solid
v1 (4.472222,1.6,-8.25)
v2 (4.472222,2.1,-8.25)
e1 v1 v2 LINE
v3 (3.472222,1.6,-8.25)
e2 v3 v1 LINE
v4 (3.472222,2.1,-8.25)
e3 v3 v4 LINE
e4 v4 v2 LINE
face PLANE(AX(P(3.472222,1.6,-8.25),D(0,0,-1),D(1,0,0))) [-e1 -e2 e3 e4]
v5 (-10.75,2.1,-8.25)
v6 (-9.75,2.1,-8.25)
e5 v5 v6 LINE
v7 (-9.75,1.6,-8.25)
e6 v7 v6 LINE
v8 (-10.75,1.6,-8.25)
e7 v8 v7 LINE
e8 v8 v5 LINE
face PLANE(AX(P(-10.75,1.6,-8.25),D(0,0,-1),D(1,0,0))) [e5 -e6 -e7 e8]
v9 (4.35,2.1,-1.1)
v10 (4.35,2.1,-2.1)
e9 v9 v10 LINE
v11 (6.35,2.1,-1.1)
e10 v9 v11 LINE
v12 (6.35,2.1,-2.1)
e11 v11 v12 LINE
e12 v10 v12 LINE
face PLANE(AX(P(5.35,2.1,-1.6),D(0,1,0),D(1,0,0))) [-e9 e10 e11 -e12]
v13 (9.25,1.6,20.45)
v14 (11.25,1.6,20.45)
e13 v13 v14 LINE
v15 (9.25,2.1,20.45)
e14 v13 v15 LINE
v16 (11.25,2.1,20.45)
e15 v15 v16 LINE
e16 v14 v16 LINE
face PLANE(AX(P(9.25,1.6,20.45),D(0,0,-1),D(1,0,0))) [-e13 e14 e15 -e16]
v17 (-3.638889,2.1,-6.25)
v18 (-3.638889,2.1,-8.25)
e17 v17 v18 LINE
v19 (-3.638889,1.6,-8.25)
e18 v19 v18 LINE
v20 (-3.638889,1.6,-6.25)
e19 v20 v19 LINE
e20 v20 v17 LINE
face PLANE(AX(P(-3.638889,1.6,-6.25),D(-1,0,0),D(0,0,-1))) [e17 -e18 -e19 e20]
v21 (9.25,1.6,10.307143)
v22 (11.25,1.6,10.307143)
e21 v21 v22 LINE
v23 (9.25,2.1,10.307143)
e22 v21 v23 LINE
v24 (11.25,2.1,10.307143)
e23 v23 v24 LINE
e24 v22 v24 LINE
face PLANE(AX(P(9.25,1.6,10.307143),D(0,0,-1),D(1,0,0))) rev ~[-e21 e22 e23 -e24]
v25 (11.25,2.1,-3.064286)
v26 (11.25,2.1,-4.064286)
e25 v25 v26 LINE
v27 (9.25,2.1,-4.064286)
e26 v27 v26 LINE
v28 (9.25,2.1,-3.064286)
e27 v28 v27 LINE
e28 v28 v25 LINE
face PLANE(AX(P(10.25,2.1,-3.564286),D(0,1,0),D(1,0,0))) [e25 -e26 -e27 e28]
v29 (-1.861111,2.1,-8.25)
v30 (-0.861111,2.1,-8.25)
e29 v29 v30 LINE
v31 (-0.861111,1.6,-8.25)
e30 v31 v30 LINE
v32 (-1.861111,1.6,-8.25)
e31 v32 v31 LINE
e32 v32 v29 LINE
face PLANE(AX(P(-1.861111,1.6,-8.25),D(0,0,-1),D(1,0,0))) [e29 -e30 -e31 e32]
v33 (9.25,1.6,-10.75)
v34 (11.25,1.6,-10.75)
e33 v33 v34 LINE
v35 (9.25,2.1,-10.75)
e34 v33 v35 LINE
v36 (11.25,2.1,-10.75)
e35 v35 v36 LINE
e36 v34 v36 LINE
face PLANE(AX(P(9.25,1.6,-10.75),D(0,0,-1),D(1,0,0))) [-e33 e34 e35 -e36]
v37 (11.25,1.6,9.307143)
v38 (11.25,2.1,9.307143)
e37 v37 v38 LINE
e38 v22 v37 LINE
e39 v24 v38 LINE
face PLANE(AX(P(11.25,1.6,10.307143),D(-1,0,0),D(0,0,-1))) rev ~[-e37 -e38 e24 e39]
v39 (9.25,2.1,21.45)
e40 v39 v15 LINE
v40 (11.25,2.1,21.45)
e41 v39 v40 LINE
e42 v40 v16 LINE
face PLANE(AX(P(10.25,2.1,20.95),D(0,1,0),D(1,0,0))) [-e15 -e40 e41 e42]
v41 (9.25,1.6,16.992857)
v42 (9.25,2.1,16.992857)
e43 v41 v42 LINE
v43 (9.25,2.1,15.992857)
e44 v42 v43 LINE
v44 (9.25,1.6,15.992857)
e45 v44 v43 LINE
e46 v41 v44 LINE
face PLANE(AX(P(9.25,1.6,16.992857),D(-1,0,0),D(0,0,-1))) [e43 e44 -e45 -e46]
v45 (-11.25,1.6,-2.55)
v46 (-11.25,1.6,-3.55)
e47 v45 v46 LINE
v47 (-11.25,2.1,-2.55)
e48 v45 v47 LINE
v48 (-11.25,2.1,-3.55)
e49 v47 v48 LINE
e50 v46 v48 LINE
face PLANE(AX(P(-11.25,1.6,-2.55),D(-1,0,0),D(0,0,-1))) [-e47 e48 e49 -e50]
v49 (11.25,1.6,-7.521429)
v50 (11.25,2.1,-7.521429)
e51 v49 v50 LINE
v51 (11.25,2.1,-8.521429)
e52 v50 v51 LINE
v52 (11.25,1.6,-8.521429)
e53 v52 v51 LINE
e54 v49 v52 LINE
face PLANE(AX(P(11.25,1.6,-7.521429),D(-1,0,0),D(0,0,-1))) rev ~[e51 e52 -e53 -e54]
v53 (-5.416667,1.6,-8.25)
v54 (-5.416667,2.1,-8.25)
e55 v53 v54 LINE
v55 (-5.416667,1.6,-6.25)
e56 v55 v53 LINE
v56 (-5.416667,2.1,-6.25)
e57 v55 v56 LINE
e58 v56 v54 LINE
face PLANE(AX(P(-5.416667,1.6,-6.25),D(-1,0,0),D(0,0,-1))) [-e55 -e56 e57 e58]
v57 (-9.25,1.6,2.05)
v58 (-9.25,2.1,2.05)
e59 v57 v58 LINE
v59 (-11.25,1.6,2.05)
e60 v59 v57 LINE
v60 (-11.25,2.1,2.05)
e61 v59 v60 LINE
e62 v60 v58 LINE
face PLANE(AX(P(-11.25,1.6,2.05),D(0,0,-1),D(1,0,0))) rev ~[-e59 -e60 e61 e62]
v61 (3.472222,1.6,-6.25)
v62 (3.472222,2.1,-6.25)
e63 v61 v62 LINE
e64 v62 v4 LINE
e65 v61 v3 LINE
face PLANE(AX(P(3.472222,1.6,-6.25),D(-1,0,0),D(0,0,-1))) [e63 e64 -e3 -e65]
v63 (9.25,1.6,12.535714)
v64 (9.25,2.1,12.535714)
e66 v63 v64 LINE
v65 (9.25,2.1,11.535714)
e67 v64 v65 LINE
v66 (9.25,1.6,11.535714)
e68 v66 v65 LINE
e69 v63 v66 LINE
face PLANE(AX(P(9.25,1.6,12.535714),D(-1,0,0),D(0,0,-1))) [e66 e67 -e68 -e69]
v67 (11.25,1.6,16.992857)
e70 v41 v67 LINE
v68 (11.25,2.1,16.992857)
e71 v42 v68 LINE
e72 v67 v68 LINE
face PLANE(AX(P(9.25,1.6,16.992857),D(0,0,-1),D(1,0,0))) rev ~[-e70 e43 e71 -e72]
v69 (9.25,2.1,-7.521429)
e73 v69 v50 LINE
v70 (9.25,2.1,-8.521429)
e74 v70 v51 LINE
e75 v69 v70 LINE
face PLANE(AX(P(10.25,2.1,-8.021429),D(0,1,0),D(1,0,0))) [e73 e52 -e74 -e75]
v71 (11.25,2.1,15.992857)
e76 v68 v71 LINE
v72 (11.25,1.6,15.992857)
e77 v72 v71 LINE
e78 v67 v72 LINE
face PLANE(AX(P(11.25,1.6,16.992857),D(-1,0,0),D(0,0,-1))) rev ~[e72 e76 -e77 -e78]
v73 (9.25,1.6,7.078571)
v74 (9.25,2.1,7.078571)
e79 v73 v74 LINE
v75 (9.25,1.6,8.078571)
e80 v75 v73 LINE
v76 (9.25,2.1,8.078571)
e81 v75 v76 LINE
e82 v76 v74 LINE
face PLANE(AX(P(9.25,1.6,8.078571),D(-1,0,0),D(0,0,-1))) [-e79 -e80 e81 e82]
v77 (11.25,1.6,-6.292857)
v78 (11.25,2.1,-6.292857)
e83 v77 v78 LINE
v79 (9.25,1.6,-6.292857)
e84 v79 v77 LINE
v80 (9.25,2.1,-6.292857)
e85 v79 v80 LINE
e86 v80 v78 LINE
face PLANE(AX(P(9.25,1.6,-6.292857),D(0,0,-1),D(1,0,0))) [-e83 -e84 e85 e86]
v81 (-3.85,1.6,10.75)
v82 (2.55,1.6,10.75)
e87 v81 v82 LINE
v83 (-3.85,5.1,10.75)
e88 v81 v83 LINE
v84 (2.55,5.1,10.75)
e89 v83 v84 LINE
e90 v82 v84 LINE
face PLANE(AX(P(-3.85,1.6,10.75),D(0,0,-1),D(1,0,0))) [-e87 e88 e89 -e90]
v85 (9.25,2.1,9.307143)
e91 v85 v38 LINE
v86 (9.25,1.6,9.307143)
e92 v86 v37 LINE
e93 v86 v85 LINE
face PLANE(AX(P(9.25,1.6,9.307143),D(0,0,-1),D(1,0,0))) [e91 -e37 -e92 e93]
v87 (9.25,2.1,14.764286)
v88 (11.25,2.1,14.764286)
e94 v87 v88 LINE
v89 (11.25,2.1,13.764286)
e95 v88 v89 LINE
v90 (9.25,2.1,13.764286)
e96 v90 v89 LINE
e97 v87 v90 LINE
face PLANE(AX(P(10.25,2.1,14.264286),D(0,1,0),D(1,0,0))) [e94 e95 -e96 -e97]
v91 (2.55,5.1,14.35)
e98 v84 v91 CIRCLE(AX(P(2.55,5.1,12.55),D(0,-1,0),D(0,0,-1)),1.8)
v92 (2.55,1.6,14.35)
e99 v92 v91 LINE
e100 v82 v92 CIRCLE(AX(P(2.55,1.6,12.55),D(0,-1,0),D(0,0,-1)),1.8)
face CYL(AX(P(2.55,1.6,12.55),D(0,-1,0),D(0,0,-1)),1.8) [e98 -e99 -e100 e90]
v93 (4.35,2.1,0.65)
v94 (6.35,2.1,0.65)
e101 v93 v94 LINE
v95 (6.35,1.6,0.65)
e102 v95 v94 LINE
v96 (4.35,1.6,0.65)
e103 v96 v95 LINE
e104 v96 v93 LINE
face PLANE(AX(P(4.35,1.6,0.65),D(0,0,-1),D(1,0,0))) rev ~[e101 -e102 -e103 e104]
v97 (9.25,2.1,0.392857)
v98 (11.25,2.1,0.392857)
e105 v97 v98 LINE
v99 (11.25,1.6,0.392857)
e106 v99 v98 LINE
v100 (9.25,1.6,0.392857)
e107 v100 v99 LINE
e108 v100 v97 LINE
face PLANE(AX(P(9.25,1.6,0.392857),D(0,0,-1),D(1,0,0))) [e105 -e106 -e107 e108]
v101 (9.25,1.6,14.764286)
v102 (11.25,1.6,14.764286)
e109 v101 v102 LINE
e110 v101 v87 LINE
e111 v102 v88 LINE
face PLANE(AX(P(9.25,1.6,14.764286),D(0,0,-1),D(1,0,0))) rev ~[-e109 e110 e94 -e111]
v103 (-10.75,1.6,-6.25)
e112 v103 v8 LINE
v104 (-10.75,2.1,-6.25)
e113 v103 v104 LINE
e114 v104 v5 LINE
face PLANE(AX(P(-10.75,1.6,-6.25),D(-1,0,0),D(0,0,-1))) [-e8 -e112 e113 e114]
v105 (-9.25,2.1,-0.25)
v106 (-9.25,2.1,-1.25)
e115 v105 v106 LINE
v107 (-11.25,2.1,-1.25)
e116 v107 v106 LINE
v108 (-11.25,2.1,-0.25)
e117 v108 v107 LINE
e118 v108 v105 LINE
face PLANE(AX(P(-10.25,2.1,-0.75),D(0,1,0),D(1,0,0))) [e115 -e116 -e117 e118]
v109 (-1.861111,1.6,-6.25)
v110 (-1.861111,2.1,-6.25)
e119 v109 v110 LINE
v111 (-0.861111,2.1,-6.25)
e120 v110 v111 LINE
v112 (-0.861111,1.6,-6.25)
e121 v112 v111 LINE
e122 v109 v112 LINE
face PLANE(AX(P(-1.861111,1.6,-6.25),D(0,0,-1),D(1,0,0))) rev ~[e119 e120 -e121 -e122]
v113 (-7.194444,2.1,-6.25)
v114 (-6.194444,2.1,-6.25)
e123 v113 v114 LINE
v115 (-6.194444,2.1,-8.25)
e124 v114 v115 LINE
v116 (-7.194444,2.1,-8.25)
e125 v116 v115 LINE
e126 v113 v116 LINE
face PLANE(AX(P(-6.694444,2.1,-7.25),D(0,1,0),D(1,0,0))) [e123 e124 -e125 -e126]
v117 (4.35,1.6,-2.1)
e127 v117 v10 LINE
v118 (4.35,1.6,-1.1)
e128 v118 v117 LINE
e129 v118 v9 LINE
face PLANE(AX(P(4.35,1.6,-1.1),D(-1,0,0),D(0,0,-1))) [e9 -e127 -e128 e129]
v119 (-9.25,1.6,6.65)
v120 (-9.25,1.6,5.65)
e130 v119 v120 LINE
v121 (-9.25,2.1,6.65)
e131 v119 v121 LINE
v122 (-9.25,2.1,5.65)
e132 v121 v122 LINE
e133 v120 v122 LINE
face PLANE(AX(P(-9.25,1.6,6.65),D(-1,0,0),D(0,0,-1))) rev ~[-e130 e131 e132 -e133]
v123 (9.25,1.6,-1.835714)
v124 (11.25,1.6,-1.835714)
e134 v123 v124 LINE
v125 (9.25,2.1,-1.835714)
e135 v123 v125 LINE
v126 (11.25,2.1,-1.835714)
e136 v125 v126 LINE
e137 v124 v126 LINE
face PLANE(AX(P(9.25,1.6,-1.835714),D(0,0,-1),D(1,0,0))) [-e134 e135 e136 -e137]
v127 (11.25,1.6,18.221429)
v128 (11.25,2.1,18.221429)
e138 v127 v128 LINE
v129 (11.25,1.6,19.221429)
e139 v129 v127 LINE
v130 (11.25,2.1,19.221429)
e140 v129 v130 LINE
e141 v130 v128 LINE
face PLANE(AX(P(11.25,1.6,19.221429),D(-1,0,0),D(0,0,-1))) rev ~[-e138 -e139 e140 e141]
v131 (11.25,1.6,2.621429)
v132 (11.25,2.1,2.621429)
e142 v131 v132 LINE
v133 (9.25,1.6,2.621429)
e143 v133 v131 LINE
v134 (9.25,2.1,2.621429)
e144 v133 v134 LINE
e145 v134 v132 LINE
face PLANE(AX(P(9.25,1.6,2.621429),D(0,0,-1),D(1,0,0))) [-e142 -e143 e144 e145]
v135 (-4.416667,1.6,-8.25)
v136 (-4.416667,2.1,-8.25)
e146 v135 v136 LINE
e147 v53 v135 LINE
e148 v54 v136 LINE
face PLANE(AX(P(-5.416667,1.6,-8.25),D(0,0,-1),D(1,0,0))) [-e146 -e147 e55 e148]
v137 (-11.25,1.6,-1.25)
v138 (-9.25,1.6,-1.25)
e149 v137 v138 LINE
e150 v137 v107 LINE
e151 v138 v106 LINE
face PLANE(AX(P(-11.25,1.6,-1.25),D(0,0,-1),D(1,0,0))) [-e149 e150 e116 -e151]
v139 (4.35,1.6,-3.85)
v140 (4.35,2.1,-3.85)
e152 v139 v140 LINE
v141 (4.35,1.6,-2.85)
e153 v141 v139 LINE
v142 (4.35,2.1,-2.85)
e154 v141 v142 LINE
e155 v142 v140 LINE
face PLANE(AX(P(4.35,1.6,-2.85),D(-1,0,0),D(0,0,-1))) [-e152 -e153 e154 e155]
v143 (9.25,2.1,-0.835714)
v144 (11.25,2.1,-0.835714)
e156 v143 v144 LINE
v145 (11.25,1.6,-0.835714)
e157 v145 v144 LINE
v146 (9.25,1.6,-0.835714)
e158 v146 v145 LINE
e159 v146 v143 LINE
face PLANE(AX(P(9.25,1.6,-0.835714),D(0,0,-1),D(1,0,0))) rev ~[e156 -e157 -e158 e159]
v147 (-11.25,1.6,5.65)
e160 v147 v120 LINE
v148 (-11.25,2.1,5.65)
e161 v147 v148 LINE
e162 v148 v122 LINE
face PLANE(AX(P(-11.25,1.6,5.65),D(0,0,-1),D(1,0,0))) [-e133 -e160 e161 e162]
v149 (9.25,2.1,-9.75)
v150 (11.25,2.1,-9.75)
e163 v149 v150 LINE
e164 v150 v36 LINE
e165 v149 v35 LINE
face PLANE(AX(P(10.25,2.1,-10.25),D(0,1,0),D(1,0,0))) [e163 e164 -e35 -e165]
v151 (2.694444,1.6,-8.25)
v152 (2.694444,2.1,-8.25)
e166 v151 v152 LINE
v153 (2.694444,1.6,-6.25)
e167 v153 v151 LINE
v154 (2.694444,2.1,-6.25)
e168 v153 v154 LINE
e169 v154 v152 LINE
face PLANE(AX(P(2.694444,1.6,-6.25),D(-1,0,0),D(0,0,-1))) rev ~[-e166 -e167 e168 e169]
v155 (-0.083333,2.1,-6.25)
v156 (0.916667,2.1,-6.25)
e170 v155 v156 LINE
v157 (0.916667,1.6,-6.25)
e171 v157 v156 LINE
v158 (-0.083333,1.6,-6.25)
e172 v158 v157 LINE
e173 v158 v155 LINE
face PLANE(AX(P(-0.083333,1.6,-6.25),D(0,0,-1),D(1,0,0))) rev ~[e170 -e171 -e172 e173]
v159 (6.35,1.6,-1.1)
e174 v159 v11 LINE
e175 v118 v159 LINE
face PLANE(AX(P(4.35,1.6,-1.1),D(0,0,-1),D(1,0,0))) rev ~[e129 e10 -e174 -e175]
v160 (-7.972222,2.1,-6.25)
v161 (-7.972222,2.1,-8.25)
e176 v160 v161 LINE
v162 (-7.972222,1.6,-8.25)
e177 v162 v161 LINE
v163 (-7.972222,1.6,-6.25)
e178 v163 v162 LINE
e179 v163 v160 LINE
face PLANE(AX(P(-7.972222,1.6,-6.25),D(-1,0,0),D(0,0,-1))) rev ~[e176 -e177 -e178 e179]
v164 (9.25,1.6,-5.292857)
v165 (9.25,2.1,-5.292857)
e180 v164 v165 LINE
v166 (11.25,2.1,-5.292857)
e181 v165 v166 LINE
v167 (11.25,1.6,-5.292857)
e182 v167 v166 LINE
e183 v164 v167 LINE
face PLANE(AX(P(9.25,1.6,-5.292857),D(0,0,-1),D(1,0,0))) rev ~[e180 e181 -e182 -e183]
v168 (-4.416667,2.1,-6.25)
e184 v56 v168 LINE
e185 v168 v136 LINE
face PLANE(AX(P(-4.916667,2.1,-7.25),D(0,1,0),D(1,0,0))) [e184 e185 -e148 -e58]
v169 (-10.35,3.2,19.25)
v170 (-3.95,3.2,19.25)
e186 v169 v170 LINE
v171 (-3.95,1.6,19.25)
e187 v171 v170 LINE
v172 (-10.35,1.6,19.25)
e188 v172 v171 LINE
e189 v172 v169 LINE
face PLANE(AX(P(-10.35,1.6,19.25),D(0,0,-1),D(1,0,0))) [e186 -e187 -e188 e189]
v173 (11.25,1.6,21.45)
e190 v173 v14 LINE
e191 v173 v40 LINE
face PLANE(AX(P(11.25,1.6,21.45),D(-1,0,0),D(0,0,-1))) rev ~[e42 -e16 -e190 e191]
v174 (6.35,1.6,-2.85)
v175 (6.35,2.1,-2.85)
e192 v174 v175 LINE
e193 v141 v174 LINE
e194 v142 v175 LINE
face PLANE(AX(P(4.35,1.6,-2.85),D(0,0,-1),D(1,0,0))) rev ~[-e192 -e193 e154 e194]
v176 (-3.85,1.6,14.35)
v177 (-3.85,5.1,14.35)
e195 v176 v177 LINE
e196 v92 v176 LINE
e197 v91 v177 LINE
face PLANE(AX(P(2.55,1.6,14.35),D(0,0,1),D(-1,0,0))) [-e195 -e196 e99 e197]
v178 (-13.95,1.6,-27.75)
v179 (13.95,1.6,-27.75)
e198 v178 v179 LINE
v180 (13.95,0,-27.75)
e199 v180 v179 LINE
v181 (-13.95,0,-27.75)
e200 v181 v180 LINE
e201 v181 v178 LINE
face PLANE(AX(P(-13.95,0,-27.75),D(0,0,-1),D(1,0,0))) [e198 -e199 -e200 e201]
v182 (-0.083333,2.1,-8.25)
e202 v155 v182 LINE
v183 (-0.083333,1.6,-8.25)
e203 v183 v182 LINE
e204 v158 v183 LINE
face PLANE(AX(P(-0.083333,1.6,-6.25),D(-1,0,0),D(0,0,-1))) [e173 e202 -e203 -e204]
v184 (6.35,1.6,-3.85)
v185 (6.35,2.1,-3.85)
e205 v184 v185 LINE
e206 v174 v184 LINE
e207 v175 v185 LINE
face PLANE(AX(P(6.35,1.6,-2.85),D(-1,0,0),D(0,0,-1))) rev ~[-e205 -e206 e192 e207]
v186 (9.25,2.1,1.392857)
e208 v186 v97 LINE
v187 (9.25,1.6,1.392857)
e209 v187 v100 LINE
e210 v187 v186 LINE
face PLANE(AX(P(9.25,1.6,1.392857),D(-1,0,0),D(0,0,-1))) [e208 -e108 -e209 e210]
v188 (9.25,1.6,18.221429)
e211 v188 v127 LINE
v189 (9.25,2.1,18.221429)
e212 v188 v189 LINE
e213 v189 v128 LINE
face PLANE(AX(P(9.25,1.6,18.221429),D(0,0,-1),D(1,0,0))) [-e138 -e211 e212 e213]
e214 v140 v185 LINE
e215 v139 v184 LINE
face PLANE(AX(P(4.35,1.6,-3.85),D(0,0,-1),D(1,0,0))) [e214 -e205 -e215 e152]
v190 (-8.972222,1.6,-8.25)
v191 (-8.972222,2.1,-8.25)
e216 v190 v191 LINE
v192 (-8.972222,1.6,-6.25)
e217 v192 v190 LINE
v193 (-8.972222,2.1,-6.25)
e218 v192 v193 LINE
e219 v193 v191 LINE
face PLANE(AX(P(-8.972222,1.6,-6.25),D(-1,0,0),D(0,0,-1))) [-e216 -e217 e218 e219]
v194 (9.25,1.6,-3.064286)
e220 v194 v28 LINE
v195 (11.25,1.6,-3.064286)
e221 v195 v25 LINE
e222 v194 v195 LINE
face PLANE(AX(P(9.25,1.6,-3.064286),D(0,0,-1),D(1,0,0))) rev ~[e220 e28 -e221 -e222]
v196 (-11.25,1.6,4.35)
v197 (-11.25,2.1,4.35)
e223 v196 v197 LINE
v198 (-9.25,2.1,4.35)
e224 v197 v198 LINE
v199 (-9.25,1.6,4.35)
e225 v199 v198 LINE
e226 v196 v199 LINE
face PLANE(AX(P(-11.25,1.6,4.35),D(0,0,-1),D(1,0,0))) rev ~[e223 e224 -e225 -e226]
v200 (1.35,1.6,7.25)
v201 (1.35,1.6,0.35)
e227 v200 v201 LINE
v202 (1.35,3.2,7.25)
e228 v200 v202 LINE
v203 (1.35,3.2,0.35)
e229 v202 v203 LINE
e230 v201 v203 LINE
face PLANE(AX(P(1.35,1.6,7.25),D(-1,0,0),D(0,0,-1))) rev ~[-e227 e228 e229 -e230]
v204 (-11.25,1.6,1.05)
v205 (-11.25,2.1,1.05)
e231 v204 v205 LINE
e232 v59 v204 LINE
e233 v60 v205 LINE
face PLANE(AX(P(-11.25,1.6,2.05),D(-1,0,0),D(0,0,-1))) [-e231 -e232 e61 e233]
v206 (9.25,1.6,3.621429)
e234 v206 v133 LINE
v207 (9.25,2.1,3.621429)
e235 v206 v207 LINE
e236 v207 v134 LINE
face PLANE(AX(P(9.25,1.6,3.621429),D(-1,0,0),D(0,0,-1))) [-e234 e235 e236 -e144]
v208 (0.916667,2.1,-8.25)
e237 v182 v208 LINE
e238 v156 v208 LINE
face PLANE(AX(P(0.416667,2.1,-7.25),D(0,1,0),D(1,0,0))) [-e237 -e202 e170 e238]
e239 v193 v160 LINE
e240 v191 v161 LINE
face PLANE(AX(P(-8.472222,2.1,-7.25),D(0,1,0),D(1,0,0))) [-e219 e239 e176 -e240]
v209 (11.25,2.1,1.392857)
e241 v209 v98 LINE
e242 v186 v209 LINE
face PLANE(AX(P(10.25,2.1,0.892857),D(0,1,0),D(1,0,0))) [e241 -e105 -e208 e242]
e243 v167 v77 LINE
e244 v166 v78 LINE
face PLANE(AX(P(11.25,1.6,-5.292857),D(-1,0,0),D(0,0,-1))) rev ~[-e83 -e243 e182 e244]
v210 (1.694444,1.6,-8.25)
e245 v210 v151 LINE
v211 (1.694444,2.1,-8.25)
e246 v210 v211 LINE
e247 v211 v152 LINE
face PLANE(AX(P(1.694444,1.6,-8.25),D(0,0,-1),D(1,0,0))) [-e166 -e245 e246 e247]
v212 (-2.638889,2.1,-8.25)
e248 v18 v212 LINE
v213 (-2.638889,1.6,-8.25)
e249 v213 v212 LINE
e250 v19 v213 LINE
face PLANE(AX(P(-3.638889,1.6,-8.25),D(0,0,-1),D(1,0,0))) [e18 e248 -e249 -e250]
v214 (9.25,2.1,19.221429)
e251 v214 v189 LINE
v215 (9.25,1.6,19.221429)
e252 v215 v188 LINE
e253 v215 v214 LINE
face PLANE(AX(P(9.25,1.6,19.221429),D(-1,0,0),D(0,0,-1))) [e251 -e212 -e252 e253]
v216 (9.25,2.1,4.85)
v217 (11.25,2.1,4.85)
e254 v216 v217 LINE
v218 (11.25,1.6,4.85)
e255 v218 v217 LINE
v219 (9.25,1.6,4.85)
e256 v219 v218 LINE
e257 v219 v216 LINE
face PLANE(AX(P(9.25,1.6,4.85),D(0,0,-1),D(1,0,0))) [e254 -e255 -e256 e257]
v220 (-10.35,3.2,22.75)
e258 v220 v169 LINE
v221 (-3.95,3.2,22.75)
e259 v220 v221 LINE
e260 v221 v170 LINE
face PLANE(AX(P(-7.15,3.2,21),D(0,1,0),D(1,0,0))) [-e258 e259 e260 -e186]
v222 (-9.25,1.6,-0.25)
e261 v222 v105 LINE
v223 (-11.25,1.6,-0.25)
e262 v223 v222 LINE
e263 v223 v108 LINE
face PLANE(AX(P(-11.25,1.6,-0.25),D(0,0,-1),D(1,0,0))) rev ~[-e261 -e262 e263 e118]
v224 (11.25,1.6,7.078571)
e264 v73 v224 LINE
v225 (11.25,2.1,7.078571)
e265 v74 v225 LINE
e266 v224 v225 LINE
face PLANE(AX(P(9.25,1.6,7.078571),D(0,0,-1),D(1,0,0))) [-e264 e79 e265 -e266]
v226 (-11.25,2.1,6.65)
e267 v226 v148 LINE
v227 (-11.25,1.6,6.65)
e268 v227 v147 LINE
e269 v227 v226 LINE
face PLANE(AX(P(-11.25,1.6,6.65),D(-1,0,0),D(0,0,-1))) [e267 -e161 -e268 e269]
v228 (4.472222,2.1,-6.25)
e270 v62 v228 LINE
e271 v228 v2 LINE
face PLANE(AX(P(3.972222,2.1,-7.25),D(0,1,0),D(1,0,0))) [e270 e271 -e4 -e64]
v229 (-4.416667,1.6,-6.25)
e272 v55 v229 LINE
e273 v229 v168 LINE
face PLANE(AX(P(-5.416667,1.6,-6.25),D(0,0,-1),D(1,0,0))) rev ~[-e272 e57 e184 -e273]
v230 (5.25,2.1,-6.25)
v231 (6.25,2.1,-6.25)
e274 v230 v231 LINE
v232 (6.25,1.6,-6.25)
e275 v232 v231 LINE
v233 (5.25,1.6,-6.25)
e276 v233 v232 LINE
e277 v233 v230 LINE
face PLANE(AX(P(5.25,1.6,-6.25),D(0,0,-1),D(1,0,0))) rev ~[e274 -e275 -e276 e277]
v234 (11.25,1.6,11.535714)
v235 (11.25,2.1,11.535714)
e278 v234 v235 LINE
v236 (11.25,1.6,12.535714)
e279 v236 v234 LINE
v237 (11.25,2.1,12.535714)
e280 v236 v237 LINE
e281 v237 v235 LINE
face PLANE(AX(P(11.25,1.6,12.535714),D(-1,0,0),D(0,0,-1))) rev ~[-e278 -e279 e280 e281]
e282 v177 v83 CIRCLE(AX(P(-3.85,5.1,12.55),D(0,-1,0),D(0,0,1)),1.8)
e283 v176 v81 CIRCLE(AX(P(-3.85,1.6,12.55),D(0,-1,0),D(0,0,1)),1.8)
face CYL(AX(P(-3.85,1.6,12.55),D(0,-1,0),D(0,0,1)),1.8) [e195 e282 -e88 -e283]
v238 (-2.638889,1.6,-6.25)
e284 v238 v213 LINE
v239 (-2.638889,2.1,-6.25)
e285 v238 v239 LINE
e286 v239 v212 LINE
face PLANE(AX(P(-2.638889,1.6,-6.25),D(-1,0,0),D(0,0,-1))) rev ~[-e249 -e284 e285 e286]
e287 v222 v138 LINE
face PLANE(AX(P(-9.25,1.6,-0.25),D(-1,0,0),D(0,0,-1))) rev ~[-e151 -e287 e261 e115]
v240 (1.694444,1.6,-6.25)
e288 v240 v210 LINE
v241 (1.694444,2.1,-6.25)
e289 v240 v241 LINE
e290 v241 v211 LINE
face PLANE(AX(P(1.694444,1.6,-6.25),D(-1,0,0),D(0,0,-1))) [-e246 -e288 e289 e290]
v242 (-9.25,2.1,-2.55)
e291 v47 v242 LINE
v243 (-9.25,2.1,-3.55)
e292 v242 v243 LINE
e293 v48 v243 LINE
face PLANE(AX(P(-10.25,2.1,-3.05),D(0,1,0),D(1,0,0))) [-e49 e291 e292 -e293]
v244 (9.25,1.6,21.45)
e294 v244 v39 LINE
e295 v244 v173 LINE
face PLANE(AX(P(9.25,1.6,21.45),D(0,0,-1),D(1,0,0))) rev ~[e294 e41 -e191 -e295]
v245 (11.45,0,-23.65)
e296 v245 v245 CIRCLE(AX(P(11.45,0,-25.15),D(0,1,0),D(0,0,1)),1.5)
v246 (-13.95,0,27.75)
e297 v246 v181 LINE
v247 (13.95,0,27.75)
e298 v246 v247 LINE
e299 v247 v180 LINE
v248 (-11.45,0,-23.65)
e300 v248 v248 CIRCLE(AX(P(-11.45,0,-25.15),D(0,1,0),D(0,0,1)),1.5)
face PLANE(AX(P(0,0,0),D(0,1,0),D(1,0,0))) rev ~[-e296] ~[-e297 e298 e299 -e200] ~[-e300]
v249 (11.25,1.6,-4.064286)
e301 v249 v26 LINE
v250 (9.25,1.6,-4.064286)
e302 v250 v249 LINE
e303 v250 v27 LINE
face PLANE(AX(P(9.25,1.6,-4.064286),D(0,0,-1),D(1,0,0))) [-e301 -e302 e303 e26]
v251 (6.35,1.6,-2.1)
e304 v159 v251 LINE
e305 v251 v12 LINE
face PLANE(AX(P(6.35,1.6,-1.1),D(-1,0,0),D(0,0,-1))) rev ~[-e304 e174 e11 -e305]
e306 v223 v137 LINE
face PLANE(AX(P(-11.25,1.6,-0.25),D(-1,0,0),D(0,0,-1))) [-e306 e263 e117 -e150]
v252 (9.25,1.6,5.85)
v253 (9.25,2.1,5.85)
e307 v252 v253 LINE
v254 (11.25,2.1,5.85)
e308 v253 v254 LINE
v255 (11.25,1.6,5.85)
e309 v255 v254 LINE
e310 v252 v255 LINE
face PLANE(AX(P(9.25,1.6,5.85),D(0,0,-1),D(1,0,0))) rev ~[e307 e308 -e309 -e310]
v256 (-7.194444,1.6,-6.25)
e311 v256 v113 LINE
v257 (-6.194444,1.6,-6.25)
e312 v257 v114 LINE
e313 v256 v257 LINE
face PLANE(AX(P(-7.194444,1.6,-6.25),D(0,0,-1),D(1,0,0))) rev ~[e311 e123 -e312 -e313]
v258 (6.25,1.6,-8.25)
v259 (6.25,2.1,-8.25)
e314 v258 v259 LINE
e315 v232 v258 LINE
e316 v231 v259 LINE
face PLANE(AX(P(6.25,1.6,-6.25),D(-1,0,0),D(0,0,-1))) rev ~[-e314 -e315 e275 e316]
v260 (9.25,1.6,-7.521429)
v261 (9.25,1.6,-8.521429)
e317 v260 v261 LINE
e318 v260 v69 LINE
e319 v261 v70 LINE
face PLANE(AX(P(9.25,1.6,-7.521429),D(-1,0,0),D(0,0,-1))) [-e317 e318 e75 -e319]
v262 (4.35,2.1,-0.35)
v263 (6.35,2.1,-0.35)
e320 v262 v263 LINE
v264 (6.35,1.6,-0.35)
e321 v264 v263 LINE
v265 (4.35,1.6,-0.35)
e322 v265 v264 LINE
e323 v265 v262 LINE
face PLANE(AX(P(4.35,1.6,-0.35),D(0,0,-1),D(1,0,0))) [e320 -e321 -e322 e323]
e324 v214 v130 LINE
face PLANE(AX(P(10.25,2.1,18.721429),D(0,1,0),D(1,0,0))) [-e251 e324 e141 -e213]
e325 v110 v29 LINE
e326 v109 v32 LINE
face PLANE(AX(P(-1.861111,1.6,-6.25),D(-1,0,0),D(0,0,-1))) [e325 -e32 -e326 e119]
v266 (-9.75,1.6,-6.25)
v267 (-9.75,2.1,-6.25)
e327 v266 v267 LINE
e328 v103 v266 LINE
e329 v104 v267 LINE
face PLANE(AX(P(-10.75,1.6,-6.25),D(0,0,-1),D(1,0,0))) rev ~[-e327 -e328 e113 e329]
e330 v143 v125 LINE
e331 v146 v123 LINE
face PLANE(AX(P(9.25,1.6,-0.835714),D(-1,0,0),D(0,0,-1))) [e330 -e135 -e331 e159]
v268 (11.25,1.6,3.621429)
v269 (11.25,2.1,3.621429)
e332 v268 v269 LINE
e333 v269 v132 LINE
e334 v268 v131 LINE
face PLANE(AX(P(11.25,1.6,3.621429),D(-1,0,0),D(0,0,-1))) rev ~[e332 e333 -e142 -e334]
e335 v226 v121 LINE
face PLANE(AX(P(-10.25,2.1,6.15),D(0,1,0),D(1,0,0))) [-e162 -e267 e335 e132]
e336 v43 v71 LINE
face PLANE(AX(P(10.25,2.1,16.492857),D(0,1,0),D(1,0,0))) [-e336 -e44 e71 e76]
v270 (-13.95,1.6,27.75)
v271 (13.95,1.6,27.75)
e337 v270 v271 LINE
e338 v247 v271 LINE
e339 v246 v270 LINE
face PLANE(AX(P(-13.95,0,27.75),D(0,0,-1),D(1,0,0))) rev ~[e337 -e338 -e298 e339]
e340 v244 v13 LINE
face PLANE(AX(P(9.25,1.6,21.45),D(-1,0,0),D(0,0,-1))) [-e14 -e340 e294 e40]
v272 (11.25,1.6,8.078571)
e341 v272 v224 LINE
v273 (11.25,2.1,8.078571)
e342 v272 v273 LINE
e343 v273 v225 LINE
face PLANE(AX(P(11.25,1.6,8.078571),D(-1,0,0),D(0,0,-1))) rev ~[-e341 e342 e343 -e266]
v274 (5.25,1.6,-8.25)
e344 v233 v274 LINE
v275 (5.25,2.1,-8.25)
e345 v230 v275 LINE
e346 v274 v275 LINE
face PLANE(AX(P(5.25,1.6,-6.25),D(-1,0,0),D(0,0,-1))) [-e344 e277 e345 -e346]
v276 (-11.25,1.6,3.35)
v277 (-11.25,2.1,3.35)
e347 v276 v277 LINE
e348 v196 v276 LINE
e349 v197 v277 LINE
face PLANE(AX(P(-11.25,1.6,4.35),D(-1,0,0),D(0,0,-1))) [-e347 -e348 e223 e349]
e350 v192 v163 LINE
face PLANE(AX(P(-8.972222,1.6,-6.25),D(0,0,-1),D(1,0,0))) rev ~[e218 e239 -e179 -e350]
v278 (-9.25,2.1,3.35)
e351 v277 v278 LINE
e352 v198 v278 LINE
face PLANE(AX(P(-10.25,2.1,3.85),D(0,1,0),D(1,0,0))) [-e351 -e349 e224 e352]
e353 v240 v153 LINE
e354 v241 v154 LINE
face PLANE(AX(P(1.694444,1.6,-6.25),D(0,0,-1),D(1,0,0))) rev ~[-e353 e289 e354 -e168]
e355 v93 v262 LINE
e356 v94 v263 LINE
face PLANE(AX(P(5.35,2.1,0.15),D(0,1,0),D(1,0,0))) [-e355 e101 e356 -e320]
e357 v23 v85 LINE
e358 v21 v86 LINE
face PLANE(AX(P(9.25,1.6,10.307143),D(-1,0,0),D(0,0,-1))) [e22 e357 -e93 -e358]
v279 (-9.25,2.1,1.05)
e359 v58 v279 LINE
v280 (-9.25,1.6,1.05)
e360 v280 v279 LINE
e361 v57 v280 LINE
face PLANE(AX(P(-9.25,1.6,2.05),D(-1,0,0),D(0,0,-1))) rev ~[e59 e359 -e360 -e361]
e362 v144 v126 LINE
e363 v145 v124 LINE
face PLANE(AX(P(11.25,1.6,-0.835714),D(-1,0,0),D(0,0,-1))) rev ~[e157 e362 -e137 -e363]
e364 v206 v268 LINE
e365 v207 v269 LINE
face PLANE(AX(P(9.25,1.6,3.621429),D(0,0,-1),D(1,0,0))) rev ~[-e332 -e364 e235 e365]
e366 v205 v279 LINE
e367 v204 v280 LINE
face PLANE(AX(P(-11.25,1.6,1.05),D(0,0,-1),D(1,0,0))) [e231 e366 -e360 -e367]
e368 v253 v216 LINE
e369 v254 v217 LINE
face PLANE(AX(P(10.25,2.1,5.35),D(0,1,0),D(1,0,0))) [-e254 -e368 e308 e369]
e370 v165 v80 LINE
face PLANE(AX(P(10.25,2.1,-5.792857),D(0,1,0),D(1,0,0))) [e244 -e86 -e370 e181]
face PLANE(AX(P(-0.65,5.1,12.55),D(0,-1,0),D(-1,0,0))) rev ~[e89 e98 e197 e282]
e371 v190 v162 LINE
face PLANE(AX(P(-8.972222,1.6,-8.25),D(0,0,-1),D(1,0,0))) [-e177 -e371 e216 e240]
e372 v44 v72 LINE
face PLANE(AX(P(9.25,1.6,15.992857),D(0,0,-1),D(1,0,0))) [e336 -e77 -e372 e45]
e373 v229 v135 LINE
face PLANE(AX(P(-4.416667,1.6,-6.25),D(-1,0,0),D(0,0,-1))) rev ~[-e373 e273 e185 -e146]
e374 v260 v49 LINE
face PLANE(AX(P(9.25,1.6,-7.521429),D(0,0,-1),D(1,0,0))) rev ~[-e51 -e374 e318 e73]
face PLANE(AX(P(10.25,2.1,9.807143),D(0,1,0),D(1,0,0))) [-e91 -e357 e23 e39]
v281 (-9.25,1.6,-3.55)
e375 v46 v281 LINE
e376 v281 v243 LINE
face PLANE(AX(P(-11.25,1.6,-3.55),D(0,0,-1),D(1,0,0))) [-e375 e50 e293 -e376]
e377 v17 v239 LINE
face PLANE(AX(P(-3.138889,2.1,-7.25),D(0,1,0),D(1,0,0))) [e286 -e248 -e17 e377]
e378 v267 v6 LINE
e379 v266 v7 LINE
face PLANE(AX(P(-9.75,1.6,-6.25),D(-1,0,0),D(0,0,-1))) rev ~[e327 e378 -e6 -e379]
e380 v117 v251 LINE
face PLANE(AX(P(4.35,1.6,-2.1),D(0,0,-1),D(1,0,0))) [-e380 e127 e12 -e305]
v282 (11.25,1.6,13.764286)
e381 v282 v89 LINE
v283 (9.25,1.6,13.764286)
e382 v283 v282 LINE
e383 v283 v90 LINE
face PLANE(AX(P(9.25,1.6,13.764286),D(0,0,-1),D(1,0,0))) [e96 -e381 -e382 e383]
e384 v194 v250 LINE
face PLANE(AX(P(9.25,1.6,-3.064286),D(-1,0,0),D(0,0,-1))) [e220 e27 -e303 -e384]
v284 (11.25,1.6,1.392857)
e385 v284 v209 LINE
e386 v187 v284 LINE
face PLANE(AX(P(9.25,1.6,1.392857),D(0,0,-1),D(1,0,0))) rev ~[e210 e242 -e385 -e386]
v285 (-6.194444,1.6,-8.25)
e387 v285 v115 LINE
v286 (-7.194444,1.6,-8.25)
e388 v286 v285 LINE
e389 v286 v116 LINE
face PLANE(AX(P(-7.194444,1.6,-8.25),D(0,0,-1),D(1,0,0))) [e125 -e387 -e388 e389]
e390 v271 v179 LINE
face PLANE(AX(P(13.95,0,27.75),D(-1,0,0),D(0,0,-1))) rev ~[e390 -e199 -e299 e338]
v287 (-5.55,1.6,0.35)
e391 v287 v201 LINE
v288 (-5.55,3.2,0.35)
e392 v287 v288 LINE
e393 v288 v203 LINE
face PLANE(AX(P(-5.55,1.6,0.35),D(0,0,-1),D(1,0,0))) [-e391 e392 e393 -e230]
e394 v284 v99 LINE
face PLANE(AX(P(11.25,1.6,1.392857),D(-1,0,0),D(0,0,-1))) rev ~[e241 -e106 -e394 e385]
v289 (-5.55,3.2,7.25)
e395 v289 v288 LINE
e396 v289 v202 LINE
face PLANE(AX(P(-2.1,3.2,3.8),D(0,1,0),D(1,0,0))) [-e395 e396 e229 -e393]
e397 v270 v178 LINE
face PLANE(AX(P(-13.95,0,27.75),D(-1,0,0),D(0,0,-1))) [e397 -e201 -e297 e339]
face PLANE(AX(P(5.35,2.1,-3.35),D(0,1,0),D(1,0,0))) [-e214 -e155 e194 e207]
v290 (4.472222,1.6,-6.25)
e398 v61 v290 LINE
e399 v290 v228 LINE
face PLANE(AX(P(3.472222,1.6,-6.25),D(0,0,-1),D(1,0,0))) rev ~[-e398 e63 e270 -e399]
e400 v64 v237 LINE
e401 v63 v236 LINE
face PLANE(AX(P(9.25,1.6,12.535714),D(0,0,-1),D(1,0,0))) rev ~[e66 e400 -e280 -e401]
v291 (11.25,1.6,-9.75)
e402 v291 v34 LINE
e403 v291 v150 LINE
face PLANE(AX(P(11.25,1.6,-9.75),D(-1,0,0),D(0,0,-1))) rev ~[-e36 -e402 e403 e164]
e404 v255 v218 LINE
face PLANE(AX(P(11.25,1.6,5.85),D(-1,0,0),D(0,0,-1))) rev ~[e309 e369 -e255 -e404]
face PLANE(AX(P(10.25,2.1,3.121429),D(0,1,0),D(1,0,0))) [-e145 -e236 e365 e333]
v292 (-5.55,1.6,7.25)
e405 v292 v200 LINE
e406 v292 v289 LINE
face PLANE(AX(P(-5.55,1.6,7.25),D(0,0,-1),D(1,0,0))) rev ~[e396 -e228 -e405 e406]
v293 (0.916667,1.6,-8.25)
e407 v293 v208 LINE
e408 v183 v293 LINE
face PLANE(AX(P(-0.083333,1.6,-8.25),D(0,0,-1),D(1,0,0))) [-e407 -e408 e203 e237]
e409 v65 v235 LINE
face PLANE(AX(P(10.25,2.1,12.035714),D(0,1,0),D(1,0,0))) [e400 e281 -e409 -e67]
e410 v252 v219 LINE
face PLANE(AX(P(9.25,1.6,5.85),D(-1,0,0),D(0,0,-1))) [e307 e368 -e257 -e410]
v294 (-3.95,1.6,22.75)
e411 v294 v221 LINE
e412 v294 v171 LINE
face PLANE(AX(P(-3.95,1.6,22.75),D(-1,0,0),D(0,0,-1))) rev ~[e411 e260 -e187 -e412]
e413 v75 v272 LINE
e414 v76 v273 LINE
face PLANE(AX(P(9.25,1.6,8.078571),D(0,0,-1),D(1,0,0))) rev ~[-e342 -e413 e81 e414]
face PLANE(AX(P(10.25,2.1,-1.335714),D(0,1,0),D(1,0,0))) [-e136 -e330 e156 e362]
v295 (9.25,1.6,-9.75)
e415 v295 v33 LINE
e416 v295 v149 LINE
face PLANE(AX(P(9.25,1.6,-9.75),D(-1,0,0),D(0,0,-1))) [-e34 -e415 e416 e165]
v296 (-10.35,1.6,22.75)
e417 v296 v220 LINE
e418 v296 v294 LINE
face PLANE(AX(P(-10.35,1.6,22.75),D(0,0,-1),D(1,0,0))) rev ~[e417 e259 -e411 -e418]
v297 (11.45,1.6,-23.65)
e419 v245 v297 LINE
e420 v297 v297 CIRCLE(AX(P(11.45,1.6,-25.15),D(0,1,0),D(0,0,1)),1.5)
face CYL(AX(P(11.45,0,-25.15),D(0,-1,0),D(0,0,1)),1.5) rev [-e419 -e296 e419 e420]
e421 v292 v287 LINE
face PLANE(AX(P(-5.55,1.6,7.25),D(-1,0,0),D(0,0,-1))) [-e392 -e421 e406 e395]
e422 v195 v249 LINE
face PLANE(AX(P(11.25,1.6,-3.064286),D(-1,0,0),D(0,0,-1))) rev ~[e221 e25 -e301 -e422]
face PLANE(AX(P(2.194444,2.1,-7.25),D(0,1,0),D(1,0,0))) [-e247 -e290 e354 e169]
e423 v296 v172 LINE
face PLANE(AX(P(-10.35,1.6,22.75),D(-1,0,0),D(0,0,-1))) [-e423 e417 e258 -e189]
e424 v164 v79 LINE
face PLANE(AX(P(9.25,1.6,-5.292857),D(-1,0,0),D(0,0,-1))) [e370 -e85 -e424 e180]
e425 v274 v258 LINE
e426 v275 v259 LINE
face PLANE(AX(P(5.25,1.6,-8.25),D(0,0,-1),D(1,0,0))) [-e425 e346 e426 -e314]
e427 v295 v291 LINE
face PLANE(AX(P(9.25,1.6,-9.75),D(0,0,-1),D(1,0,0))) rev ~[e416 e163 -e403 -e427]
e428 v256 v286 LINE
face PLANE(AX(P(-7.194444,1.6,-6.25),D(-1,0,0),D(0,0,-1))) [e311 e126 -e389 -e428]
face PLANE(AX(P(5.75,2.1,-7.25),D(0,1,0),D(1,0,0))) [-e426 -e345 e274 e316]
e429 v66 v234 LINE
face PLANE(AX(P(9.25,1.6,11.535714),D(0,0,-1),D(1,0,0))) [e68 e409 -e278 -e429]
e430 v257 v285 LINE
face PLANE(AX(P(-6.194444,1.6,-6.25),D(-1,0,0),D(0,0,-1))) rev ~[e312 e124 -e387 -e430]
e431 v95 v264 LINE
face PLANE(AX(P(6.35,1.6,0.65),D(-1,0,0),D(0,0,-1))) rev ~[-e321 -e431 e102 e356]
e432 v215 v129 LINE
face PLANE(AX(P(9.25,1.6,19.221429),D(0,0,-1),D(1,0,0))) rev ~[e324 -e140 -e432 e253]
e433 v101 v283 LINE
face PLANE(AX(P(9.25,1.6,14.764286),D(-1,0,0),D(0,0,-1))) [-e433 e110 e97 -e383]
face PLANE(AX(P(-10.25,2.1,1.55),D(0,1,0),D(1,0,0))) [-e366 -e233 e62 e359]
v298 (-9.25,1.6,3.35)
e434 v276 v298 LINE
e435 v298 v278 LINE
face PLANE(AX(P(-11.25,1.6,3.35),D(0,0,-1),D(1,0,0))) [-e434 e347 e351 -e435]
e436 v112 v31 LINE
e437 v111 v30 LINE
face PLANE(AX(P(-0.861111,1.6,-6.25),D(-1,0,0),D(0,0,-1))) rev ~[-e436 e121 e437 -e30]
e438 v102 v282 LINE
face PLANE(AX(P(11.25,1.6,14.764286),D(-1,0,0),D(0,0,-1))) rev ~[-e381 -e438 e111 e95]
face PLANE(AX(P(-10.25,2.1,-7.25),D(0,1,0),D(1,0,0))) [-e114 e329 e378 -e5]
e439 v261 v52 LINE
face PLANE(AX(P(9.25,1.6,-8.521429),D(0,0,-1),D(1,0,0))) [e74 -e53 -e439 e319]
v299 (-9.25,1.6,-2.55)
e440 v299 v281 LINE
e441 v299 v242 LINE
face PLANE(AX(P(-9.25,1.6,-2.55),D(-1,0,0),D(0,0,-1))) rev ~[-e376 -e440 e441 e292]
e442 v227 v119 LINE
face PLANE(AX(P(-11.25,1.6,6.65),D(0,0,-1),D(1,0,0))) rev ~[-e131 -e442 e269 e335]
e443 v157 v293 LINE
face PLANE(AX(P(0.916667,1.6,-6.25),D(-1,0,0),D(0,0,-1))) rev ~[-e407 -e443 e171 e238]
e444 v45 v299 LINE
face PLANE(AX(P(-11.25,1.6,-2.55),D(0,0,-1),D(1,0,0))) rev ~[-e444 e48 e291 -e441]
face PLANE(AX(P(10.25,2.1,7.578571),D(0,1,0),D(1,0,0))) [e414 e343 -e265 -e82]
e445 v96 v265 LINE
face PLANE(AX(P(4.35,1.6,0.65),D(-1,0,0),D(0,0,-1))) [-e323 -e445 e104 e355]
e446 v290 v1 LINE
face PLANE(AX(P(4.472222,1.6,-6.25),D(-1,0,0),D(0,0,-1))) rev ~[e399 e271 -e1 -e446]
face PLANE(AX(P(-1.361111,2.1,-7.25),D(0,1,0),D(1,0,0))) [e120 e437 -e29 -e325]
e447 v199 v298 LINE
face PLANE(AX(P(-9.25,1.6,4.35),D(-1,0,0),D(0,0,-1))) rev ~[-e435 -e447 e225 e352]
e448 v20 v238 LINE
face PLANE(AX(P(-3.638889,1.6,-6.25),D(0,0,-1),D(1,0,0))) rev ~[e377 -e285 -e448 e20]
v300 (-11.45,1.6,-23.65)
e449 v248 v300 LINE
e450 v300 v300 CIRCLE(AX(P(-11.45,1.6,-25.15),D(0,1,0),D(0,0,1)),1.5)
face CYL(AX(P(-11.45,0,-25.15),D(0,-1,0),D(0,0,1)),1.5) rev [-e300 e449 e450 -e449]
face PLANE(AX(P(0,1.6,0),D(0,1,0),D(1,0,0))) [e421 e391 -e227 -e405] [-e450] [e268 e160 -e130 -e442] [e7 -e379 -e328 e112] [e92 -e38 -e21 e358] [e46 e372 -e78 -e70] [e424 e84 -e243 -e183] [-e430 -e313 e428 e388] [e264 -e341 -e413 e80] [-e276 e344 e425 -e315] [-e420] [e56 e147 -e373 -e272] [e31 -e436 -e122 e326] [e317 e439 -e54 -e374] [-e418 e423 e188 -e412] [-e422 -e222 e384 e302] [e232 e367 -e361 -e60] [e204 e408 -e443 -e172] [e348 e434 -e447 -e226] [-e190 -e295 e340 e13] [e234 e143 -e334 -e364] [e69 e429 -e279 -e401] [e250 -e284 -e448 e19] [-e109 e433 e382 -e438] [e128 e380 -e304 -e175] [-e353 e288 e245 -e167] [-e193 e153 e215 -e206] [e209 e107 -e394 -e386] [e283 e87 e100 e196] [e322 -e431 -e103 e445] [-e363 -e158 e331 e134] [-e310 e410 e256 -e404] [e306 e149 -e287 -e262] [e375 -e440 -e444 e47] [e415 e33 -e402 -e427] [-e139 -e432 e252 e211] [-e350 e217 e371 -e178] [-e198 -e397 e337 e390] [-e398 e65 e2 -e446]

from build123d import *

# Parameters (mm, degrees)
SKETCH_1_W      = 27.9
SKETCH_1_H      = 55.5
SKETCH_1_R      = 1.5
EXTRUDE_1_DEPTH = 1.6
SKETCH_2_W      = 6.9
SKETCH_2_H      = 6.9
SKETCH_2_W_2    = 6.4
SKETCH_2_H_2    = 3.5
EXTRUDE_2_DEPTH = 1.6
EXTRUDE_3_DEPTH = 3.5
SKETCH_4_W      = 2
SKETCH_4_H      = 1
SKETCH_4_W_2    = 1
SKETCH_4_H_2    = 2
EXTRUDE_4_DEPTH = 0.5


with BuildPart() as part:
    # Эскиз1 → Бобышка-Вытянуть1 (new body)
    with BuildSketch(Plane(origin=(0, 0, 0), x_dir=(1, 0, 0), z_dir=(0, 1, 0))):
        Rectangle(SKETCH_1_W, SKETCH_1_H)
        with Locations(Location((-11.45, 25.15, 0), (0, 0, 270))):
            Circle(SKETCH_1_R, mode=Mode.SUBTRACT)
        with Locations(Location((11.45, 25.15, 0), (0, 0, 270))):
            Circle(SKETCH_1_R, mode=Mode.SUBTRACT)
    extrude(amount=EXTRUDE_1_DEPTH)

    # Эскиз2 → Бобышка-Вытянуть2 (add)
    with BuildSketch(Plane(origin=(0, 1.6, 0), x_dir=(1, 0, 0), z_dir=(0, 1, 0))):
        with Locations((-2.1, -3.8)):
            Rectangle(SKETCH_2_W, SKETCH_2_H)
        with Locations((-7.15, -21)):
            Rectangle(SKETCH_2_W_2, SKETCH_2_H_2)
    extrude(amount=EXTRUDE_2_DEPTH)

    # Эскиз3 → Бобышка-Вытянуть3 (add)
    with BuildSketch(Plane(origin=(0, 1.6, 0), x_dir=(1, 0, 0), z_dir=(0, 1, 0))):
        with BuildLine():
            Line((2.55, -14.35), (-3.85, -14.35))
            ThreePointArc((-3.85, -14.35), (-5.65, -12.55), (-3.85, -10.75))
            Line((-3.85, -10.75), (2.55, -10.75))
            ThreePointArc((2.55, -10.75), (4.35, -12.55), (2.55, -14.35))
        make_face()
    extrude(amount=EXTRUDE_3_DEPTH)

    # Эскиз4 → Бобышка-Вытянуть4 (add)
    with BuildSketch(Plane(origin=(0, 1.6, 0), x_dir=(1, 0, 0), z_dir=(0, 1, 0))):
        with Locations((10.25, -20.95)):
            Rectangle(SKETCH_4_W, SKETCH_4_H)
        with Locations((10.25, -18.721428571)):
            Rectangle(SKETCH_4_W, SKETCH_4_H)
        with Locations((10.25, -16.492857143)):
            Rectangle(SKETCH_4_W, SKETCH_4_H)
        with Locations((10.25, -14.264285714)):
            Rectangle(SKETCH_4_W, SKETCH_4_H)
        with Locations((10.25, -12.035714286)):
            Rectangle(SKETCH_4_W, SKETCH_4_H)
        with Locations((10.25, -9.807142857)):
            Rectangle(SKETCH_4_W, SKETCH_4_H)
        with Locations((10.25, -7.578571429)):
            Rectangle(SKETCH_4_W, SKETCH_4_H)
        with Locations((10.25, -5.35)):
            Rectangle(SKETCH_4_W, SKETCH_4_H)
        with Locations((10.25, -3.121428571)):
            Rectangle(SKETCH_4_W, SKETCH_4_H)
        with Locations((10.25, -0.892857143)):
            Rectangle(SKETCH_4_W, SKETCH_4_H)
        with Locations((10.25, 1.335714286)):
            Rectangle(SKETCH_4_W, SKETCH_4_H)
        with Locations((10.25, 3.564285714)):
            Rectangle(SKETCH_4_W, SKETCH_4_H)
        with Locations((10.25, 5.792857143)):
            Rectangle(SKETCH_4_W, SKETCH_4_H)
        with Locations((10.25, 8.021428571)):
            Rectangle(SKETCH_4_W, SKETCH_4_H)
        with Locations((10.25, 10.25)):
            Rectangle(SKETCH_4_W, SKETCH_4_H)
        with Locations((-10.25, 7.25)):
            Rectangle(SKETCH_4_W_2, SKETCH_4_H_2)
        with Locations((-8.472222222, 7.25)):
            Rectangle(SKETCH_4_W_2, SKETCH_4_H_2)
        with Locations((-6.694444444, 7.25)):
            Rectangle(SKETCH_4_W_2, SKETCH_4_H_2)
        with Locations((-4.916666667, 7.25)):
            Rectangle(SKETCH_4_W_2, SKETCH_4_H_2)
        with Locations((-3.138888889, 7.25)):
            Rectangle(SKETCH_4_W_2, SKETCH_4_H_2)
        with Locations((-1.361111111, 7.25)):
            Rectangle(SKETCH_4_W_2, SKETCH_4_H_2)
        with Locations((0.416666667, 7.25)):
            Rectangle(SKETCH_4_W_2, SKETCH_4_H_2)
        with Locations((2.194444444, 7.25)):
            Rectangle(SKETCH_4_W_2, SKETCH_4_H_2)
        with Locations((3.972222222, 7.25)):
            Rectangle(SKETCH_4_W_2, SKETCH_4_H_2)
        with Locations((5.75, 7.25)):
            Rectangle(SKETCH_4_W_2, SKETCH_4_H_2)
        with Locations((5.35, 3.35)):
            Rectangle(SKETCH_4_W, SKETCH_4_H)
        with Locations((5.35, 1.6)):
            Rectangle(SKETCH_4_W, SKETCH_4_H)
        with Locations((5.35, -0.15)):
            Rectangle(SKETCH_4_W, SKETCH_4_H)
        with Locations((-10.25, 0.75)):
            Rectangle(SKETCH_4_W, SKETCH_4_H)
        with Locations((-10.25, 3.05)):
            Rectangle(SKETCH_4_W, SKETCH_4_H)
        with Locations((-10.25, -1.55)):
            Rectangle(SKETCH_4_W, SKETCH_4_H)
        with Locations((-10.25, -3.85)):
            Rectangle(SKETCH_4_W, SKETCH_4_H)
        with Locations((-10.25, -6.15)):
            Rectangle(SKETCH_4_W, SKETCH_4_H)
    extrude(amount=EXTRUDE_4_DEPTH)


solid = part.part
